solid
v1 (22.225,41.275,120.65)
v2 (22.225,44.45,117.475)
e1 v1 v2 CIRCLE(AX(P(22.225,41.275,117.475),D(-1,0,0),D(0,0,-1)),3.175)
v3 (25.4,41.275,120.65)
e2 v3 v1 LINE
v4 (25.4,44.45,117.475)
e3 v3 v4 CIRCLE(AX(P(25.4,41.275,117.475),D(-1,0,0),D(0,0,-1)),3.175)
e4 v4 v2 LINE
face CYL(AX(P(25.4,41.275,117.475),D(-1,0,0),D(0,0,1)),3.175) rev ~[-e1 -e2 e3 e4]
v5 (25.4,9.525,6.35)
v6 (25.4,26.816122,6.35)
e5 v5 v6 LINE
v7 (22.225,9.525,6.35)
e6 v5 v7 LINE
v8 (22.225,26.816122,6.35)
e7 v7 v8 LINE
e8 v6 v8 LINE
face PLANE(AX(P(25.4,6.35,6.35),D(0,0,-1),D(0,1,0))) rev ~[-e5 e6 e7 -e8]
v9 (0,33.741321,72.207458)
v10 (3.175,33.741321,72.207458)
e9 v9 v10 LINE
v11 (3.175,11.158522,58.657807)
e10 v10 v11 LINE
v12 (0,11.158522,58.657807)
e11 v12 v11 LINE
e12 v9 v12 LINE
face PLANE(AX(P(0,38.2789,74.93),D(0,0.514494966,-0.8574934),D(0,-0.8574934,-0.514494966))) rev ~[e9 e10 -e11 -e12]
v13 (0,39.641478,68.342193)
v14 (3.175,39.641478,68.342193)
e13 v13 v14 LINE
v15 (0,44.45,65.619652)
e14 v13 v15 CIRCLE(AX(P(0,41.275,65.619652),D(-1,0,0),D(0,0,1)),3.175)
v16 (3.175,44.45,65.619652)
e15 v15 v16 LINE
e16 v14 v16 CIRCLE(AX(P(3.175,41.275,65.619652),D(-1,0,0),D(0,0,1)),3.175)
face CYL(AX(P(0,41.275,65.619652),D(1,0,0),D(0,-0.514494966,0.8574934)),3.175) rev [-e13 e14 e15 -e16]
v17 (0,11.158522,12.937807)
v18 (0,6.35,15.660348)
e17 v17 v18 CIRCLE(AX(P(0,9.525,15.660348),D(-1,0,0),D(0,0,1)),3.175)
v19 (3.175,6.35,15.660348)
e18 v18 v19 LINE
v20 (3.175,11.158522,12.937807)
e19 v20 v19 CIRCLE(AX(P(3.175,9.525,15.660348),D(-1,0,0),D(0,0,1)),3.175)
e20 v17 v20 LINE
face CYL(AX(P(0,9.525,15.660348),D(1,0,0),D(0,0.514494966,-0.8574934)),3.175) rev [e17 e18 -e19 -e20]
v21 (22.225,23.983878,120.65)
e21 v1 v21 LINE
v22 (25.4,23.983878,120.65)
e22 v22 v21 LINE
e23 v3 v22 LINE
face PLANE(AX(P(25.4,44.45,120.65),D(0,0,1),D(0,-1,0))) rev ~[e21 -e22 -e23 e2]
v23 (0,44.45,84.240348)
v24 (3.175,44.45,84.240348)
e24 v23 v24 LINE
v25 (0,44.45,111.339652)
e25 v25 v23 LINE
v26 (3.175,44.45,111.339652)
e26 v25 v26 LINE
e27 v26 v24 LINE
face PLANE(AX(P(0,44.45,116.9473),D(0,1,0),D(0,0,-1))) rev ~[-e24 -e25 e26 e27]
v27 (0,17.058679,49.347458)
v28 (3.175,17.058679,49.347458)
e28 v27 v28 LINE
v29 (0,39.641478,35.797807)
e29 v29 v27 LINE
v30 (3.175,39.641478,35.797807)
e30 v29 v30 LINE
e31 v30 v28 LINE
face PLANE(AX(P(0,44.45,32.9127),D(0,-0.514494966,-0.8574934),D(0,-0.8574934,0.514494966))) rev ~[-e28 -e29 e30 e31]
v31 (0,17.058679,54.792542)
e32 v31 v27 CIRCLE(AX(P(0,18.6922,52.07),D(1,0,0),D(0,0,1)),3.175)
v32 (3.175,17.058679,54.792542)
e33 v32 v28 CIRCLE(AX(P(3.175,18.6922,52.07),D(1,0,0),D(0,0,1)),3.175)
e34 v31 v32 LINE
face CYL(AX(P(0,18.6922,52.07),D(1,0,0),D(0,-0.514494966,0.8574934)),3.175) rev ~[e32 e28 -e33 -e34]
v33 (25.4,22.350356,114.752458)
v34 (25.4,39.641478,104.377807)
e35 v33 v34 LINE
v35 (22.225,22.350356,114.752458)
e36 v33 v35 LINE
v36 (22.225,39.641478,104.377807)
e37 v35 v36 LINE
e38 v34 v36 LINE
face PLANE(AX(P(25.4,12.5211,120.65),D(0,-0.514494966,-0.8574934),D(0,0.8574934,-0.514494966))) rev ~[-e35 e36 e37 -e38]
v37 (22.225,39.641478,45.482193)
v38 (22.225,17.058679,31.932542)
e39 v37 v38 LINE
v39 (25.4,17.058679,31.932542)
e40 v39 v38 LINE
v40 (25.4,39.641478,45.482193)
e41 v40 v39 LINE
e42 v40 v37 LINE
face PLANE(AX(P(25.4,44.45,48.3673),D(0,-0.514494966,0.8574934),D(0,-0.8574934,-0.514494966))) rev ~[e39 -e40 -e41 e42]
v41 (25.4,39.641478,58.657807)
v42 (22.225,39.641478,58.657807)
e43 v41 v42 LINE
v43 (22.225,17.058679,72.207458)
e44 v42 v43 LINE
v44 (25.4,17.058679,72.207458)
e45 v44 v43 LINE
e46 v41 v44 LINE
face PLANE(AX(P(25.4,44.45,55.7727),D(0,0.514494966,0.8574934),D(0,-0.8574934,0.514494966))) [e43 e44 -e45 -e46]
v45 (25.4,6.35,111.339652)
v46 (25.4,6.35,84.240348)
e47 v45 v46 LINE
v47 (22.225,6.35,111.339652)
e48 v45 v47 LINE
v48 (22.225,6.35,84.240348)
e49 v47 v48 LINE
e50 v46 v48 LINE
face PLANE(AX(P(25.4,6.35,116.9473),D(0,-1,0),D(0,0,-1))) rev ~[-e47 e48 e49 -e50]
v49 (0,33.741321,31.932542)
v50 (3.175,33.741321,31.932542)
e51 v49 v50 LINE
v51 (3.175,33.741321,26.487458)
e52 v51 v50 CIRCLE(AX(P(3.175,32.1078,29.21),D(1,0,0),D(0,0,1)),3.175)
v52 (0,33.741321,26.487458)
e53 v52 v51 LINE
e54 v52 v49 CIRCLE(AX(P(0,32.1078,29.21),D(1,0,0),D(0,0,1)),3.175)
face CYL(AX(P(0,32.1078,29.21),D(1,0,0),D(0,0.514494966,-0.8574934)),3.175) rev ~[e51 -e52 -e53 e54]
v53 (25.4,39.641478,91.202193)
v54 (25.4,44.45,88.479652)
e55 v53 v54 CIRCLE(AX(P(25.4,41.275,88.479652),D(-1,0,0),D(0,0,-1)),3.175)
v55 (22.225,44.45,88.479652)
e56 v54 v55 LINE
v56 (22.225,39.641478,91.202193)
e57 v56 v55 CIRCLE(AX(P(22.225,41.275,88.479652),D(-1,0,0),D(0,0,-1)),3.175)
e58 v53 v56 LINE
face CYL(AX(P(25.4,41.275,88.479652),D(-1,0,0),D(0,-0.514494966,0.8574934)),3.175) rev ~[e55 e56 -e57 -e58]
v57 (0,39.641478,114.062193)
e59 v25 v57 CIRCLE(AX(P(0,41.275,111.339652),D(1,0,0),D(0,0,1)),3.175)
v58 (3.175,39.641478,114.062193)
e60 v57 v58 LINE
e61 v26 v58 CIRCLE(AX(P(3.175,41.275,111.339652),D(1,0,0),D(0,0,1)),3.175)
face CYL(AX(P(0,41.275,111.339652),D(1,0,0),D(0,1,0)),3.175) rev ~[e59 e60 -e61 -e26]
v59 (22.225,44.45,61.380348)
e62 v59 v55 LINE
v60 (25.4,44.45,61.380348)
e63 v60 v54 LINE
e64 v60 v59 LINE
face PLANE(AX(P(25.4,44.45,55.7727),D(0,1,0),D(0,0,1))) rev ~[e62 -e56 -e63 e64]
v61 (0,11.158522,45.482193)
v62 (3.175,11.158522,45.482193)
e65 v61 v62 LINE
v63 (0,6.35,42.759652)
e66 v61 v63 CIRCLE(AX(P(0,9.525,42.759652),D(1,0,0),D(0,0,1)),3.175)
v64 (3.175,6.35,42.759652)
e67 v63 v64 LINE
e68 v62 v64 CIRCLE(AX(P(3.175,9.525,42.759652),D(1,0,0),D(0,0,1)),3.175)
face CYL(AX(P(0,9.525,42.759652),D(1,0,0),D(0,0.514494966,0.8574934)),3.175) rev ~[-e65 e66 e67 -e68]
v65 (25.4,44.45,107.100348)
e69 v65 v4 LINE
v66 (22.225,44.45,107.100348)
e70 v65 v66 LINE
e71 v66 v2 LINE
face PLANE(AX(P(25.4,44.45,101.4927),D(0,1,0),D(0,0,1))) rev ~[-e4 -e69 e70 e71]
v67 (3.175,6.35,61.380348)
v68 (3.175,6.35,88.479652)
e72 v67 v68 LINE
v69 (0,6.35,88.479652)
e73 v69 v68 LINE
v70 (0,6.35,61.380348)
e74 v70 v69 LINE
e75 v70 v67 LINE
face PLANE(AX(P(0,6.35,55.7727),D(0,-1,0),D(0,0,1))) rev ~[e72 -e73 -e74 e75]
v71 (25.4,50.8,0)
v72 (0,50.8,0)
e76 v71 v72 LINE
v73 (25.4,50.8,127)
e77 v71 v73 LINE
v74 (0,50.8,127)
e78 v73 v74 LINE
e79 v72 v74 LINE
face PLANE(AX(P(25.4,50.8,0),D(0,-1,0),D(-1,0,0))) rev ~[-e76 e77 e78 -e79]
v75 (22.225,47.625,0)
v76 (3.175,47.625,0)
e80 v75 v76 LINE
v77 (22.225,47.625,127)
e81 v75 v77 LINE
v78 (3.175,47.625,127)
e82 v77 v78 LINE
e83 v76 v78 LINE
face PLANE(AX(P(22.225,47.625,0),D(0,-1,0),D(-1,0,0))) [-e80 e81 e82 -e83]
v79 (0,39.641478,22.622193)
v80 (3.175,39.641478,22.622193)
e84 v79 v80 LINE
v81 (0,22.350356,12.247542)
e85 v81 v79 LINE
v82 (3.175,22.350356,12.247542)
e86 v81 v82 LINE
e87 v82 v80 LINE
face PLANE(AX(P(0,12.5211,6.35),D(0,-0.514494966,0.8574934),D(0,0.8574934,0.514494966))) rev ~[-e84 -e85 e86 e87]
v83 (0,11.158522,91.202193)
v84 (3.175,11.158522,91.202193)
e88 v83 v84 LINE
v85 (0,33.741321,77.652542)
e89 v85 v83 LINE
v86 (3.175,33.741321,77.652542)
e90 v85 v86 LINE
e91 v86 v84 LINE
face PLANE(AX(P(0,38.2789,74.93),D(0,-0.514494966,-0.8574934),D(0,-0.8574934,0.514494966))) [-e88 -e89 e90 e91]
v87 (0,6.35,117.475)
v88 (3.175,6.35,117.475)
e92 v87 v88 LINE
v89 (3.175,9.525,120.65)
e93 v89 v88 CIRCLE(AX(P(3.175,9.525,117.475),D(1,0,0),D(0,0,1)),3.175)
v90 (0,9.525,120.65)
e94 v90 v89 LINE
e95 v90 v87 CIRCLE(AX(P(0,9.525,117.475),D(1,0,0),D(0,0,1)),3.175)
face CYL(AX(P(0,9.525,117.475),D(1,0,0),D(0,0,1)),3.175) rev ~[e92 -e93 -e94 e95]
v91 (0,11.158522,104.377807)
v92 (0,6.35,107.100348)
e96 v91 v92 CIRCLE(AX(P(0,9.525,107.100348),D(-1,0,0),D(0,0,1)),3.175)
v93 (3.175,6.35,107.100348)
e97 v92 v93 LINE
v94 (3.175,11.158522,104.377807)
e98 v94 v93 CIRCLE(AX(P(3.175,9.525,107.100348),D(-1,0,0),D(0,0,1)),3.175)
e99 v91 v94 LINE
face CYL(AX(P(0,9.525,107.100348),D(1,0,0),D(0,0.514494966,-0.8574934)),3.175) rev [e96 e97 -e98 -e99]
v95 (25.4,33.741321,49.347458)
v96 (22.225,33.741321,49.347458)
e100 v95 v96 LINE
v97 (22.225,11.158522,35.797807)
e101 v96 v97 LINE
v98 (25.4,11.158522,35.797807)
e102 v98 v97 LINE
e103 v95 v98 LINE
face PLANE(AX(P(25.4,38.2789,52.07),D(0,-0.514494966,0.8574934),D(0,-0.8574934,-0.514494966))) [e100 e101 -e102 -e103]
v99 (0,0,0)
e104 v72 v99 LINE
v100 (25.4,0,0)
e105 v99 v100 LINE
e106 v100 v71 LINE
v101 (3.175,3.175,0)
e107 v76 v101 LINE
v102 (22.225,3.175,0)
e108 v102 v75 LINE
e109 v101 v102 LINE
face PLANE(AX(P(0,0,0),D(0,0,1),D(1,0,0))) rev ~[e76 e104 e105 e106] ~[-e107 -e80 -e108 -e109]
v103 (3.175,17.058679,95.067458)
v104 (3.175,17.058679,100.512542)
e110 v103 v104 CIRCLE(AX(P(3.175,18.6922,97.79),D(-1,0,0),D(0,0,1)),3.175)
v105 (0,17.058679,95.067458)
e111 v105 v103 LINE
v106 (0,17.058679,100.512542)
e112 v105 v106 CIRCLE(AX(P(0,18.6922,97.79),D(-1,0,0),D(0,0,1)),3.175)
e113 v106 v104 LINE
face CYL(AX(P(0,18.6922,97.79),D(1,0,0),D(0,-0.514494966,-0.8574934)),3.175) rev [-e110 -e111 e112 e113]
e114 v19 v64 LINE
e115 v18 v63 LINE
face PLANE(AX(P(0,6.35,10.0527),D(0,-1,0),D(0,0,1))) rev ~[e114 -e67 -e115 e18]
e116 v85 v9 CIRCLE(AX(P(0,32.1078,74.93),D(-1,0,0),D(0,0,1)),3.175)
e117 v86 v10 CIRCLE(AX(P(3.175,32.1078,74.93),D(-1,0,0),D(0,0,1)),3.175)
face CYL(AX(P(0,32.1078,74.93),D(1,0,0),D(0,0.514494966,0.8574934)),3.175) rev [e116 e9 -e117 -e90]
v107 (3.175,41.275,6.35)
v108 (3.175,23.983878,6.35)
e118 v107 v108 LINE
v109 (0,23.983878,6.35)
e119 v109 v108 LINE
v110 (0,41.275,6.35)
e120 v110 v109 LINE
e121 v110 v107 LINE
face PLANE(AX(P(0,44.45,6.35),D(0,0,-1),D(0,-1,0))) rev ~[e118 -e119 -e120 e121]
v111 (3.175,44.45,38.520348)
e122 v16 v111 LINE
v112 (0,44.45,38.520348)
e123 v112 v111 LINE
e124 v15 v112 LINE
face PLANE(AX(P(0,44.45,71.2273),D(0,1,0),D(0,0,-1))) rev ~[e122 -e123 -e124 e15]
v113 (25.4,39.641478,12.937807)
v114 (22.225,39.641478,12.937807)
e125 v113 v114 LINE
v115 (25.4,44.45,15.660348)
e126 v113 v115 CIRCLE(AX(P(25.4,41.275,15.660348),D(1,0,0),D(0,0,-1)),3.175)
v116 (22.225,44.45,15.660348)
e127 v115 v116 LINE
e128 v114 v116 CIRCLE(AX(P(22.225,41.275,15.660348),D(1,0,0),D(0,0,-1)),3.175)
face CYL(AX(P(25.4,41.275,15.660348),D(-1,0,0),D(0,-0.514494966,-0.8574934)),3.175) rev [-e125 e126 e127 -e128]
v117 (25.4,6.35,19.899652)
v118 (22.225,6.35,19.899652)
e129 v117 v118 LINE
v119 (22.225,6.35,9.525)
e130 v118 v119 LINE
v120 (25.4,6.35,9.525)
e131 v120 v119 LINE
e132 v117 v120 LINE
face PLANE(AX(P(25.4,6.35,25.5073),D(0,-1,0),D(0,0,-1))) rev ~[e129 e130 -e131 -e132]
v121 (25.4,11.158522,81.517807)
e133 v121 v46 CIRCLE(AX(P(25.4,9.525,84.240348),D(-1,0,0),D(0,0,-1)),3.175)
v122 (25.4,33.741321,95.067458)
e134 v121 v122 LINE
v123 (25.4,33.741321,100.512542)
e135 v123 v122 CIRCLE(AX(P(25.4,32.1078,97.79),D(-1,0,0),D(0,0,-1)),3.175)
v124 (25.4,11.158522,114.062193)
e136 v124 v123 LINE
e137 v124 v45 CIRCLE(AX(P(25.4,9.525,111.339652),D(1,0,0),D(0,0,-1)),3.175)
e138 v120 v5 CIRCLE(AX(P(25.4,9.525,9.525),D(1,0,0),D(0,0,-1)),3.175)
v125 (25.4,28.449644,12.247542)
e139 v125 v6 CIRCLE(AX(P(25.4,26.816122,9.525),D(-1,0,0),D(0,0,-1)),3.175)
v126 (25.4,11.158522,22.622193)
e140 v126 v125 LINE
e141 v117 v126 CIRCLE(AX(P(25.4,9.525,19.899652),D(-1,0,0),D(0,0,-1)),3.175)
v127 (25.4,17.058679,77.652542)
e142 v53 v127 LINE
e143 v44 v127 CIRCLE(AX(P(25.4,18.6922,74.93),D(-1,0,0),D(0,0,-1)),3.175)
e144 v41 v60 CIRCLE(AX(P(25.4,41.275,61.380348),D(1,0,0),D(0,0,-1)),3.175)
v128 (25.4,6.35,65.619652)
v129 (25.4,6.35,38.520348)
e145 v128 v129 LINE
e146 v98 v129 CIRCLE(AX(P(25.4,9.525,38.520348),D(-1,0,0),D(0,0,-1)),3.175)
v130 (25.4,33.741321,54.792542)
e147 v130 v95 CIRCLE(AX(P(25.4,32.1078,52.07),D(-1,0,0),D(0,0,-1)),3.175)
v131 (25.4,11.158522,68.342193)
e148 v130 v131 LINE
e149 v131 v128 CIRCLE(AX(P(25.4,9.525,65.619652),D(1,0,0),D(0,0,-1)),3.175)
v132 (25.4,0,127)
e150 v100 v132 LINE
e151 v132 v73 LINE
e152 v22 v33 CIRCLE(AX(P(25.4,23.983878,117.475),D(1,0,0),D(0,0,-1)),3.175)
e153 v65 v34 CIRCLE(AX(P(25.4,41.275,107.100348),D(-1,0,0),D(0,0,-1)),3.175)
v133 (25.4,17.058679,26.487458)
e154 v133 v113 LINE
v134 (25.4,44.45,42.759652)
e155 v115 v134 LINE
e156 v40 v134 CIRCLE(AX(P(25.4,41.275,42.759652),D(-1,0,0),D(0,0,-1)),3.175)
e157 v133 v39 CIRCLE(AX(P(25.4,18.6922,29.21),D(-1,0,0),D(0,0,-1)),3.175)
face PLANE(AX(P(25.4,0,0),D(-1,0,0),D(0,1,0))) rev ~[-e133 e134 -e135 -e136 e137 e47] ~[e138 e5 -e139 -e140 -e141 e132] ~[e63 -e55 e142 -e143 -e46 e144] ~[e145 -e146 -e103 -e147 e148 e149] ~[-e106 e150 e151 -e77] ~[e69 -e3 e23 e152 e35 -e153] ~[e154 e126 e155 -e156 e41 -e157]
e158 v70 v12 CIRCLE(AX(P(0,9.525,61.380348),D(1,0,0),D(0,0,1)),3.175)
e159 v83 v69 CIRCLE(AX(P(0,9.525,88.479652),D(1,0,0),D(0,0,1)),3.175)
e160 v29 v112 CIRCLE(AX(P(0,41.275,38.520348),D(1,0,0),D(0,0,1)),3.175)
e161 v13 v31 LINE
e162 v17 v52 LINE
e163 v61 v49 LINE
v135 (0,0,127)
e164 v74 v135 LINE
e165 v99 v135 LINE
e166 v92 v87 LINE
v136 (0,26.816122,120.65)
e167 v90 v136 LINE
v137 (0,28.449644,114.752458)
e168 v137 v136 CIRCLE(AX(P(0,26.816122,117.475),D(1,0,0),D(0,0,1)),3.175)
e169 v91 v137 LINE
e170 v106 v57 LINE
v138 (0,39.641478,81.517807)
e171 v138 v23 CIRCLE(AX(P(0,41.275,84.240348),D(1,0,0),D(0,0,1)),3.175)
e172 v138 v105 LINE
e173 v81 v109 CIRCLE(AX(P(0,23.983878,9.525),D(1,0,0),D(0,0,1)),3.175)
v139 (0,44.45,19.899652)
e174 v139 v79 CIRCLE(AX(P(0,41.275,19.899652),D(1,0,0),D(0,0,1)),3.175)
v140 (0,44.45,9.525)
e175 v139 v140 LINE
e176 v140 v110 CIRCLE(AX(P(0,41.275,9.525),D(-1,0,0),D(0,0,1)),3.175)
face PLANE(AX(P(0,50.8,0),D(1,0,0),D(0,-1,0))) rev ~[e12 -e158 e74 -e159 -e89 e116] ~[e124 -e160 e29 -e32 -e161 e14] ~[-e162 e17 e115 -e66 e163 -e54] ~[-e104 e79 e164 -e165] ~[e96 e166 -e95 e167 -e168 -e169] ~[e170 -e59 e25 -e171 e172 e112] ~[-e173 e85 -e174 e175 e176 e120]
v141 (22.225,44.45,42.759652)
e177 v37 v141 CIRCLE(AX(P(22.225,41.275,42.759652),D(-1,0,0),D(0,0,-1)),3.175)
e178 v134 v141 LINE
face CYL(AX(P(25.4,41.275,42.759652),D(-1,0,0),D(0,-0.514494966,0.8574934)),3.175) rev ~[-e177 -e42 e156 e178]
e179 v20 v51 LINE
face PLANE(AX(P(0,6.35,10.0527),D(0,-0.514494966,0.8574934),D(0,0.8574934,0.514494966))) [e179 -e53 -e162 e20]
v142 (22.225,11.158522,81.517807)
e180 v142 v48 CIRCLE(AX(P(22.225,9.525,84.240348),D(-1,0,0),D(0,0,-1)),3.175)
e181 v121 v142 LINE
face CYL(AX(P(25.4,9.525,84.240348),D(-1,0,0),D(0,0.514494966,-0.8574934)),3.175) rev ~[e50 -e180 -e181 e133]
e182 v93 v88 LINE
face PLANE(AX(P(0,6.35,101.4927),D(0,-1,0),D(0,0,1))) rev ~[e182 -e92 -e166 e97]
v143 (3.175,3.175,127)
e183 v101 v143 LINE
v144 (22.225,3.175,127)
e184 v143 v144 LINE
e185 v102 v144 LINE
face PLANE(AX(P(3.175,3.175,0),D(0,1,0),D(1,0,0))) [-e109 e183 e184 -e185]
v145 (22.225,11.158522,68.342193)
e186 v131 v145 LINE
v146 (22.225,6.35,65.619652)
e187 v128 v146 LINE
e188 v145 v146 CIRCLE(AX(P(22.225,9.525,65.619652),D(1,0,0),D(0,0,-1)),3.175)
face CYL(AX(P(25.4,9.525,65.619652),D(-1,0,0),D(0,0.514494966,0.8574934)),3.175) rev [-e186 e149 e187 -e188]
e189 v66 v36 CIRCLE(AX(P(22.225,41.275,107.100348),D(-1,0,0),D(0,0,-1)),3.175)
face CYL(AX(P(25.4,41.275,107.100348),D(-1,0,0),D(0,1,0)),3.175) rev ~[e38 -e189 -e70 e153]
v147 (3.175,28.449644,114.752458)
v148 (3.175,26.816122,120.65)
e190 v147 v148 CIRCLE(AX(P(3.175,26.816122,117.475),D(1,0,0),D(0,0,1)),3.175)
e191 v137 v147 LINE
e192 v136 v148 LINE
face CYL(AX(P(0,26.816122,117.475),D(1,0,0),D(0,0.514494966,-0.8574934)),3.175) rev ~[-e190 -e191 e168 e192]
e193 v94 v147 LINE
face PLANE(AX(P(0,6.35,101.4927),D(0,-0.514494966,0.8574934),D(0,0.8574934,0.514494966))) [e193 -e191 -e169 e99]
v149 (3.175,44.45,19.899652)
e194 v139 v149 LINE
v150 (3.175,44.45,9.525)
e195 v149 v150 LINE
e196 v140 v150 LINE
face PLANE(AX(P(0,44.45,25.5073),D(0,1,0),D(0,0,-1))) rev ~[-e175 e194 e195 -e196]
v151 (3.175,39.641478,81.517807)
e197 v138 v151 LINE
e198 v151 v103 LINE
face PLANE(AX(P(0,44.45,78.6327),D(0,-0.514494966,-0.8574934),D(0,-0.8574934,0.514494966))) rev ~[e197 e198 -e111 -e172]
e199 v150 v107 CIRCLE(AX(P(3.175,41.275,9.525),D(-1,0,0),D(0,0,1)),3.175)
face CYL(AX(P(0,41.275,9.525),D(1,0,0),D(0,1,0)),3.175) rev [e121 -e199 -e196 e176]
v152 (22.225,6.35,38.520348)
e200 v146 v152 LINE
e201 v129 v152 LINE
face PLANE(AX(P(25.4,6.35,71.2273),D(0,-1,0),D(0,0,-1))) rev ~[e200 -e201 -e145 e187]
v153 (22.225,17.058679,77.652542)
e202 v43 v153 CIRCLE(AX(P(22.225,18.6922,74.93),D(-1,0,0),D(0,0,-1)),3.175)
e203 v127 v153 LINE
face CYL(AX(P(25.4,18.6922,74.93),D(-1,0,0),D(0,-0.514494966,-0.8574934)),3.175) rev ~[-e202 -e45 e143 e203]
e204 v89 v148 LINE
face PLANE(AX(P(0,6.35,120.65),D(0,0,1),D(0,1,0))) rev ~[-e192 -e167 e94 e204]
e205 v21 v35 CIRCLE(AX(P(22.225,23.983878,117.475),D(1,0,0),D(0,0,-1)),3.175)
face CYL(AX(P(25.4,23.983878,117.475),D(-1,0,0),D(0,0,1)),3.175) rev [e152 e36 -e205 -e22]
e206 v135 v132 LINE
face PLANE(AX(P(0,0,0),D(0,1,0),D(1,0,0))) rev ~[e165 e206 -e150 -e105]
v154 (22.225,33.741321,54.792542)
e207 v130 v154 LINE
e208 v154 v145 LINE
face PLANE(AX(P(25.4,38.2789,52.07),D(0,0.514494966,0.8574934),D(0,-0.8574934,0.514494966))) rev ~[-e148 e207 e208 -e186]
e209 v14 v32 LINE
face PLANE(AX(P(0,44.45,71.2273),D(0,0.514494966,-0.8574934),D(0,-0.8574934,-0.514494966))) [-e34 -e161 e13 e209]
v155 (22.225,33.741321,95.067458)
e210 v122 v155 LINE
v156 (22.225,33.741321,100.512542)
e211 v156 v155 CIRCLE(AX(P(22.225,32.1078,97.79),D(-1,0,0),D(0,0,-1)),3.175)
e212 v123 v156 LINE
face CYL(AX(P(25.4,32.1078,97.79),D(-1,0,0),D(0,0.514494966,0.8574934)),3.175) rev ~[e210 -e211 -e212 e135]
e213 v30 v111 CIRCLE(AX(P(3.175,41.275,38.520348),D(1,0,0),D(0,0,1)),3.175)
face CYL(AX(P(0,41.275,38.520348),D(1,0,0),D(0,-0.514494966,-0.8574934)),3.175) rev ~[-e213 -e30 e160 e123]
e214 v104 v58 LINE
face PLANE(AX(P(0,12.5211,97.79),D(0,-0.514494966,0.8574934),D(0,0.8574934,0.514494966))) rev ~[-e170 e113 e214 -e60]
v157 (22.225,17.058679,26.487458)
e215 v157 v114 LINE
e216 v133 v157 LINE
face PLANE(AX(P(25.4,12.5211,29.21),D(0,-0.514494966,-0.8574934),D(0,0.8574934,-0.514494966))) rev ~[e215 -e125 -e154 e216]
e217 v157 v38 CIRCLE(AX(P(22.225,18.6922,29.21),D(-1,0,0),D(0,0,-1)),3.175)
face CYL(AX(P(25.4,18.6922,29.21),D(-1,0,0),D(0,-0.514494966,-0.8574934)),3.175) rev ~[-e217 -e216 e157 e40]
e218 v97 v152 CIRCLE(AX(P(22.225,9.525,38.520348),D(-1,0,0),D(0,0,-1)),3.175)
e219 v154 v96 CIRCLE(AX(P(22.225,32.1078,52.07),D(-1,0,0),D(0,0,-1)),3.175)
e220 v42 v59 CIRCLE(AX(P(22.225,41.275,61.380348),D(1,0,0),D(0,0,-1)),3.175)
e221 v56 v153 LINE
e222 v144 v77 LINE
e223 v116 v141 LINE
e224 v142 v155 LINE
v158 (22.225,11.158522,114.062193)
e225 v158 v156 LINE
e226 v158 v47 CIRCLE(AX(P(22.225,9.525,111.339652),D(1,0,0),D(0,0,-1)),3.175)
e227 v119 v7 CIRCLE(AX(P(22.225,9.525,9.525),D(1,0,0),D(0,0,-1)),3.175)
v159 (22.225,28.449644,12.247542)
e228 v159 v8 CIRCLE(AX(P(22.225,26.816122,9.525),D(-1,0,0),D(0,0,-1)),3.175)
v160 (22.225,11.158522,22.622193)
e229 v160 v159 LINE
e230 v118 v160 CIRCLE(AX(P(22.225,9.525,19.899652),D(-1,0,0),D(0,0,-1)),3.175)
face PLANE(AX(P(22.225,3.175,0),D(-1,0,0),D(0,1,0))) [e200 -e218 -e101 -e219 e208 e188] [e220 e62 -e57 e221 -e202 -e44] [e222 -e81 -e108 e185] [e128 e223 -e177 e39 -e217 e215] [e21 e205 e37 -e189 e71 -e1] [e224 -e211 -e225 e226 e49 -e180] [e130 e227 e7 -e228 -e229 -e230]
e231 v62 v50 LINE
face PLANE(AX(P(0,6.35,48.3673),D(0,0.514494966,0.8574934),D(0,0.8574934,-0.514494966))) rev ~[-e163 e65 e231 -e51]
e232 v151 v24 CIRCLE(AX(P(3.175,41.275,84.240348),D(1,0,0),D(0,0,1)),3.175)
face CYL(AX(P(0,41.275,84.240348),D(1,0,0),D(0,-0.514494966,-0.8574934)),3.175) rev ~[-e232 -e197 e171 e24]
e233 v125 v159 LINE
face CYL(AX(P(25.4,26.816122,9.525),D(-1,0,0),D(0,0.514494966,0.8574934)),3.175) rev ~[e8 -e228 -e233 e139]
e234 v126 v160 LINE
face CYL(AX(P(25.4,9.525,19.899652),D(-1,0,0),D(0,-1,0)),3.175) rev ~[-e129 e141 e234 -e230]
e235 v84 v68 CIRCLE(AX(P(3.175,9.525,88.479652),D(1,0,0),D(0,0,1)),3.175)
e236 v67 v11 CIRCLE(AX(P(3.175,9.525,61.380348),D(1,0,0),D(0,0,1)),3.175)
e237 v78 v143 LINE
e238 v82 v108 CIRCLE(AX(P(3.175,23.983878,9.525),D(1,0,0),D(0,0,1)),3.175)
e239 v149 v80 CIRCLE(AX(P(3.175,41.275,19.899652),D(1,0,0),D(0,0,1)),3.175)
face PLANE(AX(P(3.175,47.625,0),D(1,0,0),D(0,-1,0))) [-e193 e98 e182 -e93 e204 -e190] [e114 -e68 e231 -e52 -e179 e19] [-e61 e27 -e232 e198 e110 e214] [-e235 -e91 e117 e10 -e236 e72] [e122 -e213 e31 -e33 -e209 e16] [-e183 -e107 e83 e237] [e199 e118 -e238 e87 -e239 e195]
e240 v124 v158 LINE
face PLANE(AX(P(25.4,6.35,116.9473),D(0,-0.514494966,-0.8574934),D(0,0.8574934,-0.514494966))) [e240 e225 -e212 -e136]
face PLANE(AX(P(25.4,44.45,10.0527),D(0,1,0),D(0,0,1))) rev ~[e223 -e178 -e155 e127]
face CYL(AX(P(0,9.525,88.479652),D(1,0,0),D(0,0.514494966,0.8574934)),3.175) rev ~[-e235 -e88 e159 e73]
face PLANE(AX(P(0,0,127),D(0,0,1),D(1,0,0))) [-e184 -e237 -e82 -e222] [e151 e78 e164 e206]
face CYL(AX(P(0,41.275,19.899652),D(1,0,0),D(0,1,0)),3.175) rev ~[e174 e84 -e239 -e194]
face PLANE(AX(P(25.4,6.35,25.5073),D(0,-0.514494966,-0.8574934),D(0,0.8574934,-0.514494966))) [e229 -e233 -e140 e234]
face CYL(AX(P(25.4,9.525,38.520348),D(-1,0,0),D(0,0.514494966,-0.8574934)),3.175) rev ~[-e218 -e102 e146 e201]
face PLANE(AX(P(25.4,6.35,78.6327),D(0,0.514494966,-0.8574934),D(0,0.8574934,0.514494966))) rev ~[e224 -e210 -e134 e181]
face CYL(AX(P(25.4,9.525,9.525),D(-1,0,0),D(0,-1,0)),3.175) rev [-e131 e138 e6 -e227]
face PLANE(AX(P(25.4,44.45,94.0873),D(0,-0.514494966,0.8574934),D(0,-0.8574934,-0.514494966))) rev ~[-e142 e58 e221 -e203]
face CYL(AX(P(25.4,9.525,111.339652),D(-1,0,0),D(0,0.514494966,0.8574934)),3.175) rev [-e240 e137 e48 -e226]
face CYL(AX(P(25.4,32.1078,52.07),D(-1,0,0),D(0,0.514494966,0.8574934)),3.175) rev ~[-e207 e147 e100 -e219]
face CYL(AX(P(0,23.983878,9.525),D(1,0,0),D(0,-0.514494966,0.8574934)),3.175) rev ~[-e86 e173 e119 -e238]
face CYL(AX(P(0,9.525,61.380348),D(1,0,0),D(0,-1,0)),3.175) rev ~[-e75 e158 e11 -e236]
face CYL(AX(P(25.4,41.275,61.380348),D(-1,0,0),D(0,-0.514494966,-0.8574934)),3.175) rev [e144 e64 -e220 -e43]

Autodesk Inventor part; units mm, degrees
ref_plane "YZ Plane" through (0, 0, 0) normal (1, 0, 0) x (0, 1, 0)
ref_plane "XZ Plane" through (0, 0, 0) normal (0, 1, 0) x (-1, 0, 0)
ref_plane "XY Plane" through (0, 0, 0) normal (0, 0, 1) x (1, 0, 0)
sketch "Sketch1" plane through (0, 0, 0) normal (0, 0, 1) x (1, 0, 0)
  line L0 (0, 0) -> (25.4, 0)
  line L1 (25.4, 0) -> (25.4, 50.8)
  line L2 (25.4, 50.8) -> (0, 50.8)
  line L3 (0, 50.8) -> (0, 0)
  line L4 (3.175, 3.175) -> (22.225, 3.175)
  line L5 (22.225, 3.175) -> (22.225, 47.625)
  line L6 (22.225, 47.625) -> (3.175, 47.625)
  line L7 (3.175, 47.625) -> (3.175, 3.175)
  dimension "d0" = 50.8
  dimension "d1" = 25.4
  dimension "d2" = 3.175
  dimension "d3" = 3.175
  dimension "d4" = 3.175
  dimension "d5" = 3.175
extrude "Extrusion1" add sketch "Sketch1" along normal blind 127
sketch "Sketch4" plane through (25.4, 0, 0) normal (1, 0, 0) x (0, 0, -1)
  line L0 (0, 0) -> (-127, 0) projected
  line L1 (0, 0) -> (0, 50.8) projected
  line L2 (0, 50.8) -> (-127, 50.8) projected
  line L3 (0, 50.8) -> (0, 0)
  line L4 (-127, 50.8) -> (0, 50.8)
  line L5 (-127, 0) -> (-127, 50.8)
  line L6 (-127, 0) -> (0, 0)
  line L7 (-55.7727, 44.45) -> (-74.93, 12.5211)
  line L8 (-74.93, 6.35) -> (-52.07, 44.45) construction
  line L9 (-120.65, 6.35) -> (-6.35, 6.35)
  line L10 (-6.35, 44.45) -> (-120.65, 44.45)
  line L11 (-52.07, 38.2789) -> (-71.2273, 6.35)
  line L12 (-52.07, 44.45) -> (-29.21, 6.35) construction
  line L13 (-48.3673, 44.45) -> (-29.21, 12.5211)
  line L14 (-94.0873, 44.45) -> (-74.93, 12.5211)
  line L15 (-97.79, 44.45) -> (-74.93, 6.35) construction
  line L16 (-78.6327, 6.35) -> (-97.79, 38.2789)
  line L17 (-52.07, 38.2789) -> (-32.9127, 6.35)
  line L18 (-116.9473, 6.35) -> (-97.79, 38.2789)
  line L19 (-120.65, 44.45) -> (-120.65, 6.35)
  line L20 (-120.65, 6.35) -> (-97.79, 44.45) construction
  line L21 (-120.65, 12.5211) -> (-101.4927, 44.45)
  line L22 (-29.21, 12.5211) -> (-10.0527, 44.45)
  line L23 (-25.5073, 6.35) -> (-6.35, 38.2789)
  line L24 (-6.35, 6.35) -> (-6.35, 44.45)
  line L25 (-29.21, 6.35) -> (-6.35, 44.45) construction
  line L26 (-127, 50.8) -> (-127, 0) projected
  dimension "d20" = 30.964
  dimension "d21" = 61.928
  dimension "d22" = 61.928
  dimension "d23" = 61.928
  dimension "d24" = 61.928
  dimension "d25" = 3.175
  dimension "d26" = 3.175
  dimension "d27" = 3.175
  dimension "d28" = 3.175
  dimension "d29" = 3.175
  dimension "d30" = 3.175
  dimension "d31" = 3.175
  dimension "d32" = 3.175
  dimension "d33" = 3.175
  dimension "d34" = 3.175
  dimension "d35" = 6.35
  dimension "d36" = 6.35
  dimension "d37" = 6.35
  dimension "d38" = 6.35
extrude "Extrusion5" cut sketch "Sketch4" against normal blind 3.175 contours L7 L14 L10 | L10 L22 L13 | L21 L19 L10 | L24 L9 L23 | L18 L16 L9 | L9 L11 L17
sketch "Sketch5" plane through (0, 0, 0) normal (-1, 0, 0) x (0, 0, 1)
  line L0 (127, 0) -> (127, 50.8) projected
  line L1 (0, 50.8) -> (127, 50.8) projected
  line L2 (0, 50.8) -> (0, 0) projected
  line L3 (0, 0) -> (127, 0) projected
  line L4 (0, 0) -> (0, 50.8)
  line L5 (127, 0) -> (0, 0)
  line L6 (127, 50.8) -> (127, 0)
  line L7 (127, 50.8) -> (0, 50.8)
  line L8 (74.93, 38.2789) -> (55.7727, 6.35)
  line L9 (71.2273, 44.45) -> (52.07, 12.5211)
  line L10 (52.07, 6.35) -> (74.93, 44.45) construction
  line L11 (6.35, 6.35) -> (120.65, 6.35)
  line L12 (120.65, 44.45) -> (6.35, 44.45)
  line L13 (74.93, 44.45) -> (97.79, 6.35) construction
  line L14 (74.93, 38.2789) -> (94.0873, 6.35)
  line L15 (97.79, 12.5211) -> (116.9473, 44.45)
  line L16 (97.79, 6.35) -> (120.65, 44.45) construction
  line L17 (120.65, 6.35) -> (120.65, 44.45)
  line L18 (101.4927, 6.35) -> (120.65, 38.2789)
  line L19 (78.6327, 44.45) -> (97.79, 12.5211)
  line L20 (32.9127, 44.45) -> (52.07, 12.5211)
  line L21 (29.21, 44.45) -> (52.07, 6.35) construction
  line L22 (10.0527, 6.35) -> (29.21, 38.2789)
  line L23 (6.35, 44.45) -> (6.35, 6.35)
  line L24 (6.35, 6.35) -> (29.21, 44.45) construction
  line L25 (6.35, 12.5211) -> (25.5073, 44.45)
  line L26 (48.3673, 6.35) -> (29.21, 38.2789)
  dimension "d41" = 30.964
  dimension "d42" = 61.928
  dimension "d43" = 61.928
  dimension "d44" = 61.928
  dimension "d45" = 61.928
  dimension "d46" = 3.175
  dimension "d47" = 3.175
  dimension "d48" = 3.175
  dimension "d49" = 3.175
  dimension "d50" = 3.175
  dimension "d51" = 3.175
  dimension "d52" = 3.175
  dimension "d53" = 3.175
  dimension "d54" = 3.175
  dimension "d55" = 3.175
  dimension "d56" = 6.35
  dimension "d57" = 6.35
  dimension "d58" = 6.35
  dimension "d59" = 6.35
extrude "Extrusion6" cut sketch "Sketch5" against normal blind 3.175 contours L14 L11 L8 | L11 L22 L26 | L18 L17 L11 | L23 L12 L25 | L15 L19 L12 | L12 L9 L20
fillet "Fillet1" radius 3.175 36 edges at (1.5875, 12.5211, 6.35) (1.5875, 44.45, 6.35) (1.5875, 44.45, 25.5073) (1.5875, 38.2789, 29.21) (1.5875, 6.35, 10.0527) (1.5875, 6.35, 48.3673) (1.5875, 44.45, 32.9127) (1.5875, 12.5211, 52.07) (1.5875, 44.45, 71.2273) (1.5875, 38.2789, 74.93) (1.5875, 6.35, 55.7727) (1.5875, 6.35, 94.0873) (1.5875, 44.45, 78.6327) (1.5875, 44.45, 116.9473) (1.5875, 12.5211, 97.79) (1.5875, 38.2789, 120.65) (1.5875, 6.35, 101.4927) (1.5875, 6.35, 120.65) (23.8125, 44.45, 120.65) (23.8125, 44.45, 101.4927) (23.8125, 12.5211, 120.65) (23.8125, 6.35, 116.9473) (23.8125, 38.2789, 97.79) (23.8125, 6.35, 78.6327) (23.8125, 12.5211, 74.93) (23.8125, 44.45, 94.0873) (23.8125, 44.45, 55.7727) (23.8125, 38.2789, 52.07) (23.8125, 6.35, 71.2273) (23.8125, 6.35, 32.9127) (23.8125, 12.5211, 29.21) (23.8125, 44.45, 48.3673) (23.8125, 44.45, 10.0527) (23.8125, 38.2789, 6.35) (23.8125, 6.35, 25.5073) (23.8125, 6.35, 6.35)
equation "\"d3\" = d2"
equation "\"d4\" = d3"
equation "\"d5\" = d4"
equation "\"d21\" = 2 * d20"
equation "\"d22\" = d21"
equation "\"d23\" = d22"
equation "\"d24\" = d23"
equation "\"d26\" = d25"
equation "\"d27\" = d26"
equation "\"d28\" = d27"
equation "\"d29\" = d28"
equation "\"d30\" = d29"
equation "\"d31\" = d30"
equation "\"d32\" = d30"
equation "\"d33\" = d32"
equation "\"d34\" = d33"
equation "\"d42\" = 2 * d41"
equation "\"d43\" = d42"
equation "\"d44\" = d43"
equation "\"d45\" = d44"
equation "\"d47\" = d46"
equation "\"d48\" = d47"
equation "\"d49\" = d48"
equation "\"d50\" = d49"
equation "\"d51\" = d50"
equation "\"d52\" = d51"
equation "\"d53\" = d51"
equation "\"d54\" = d53"
equation "\"d55\" = d54"
properties part number "left fram piece 3"
